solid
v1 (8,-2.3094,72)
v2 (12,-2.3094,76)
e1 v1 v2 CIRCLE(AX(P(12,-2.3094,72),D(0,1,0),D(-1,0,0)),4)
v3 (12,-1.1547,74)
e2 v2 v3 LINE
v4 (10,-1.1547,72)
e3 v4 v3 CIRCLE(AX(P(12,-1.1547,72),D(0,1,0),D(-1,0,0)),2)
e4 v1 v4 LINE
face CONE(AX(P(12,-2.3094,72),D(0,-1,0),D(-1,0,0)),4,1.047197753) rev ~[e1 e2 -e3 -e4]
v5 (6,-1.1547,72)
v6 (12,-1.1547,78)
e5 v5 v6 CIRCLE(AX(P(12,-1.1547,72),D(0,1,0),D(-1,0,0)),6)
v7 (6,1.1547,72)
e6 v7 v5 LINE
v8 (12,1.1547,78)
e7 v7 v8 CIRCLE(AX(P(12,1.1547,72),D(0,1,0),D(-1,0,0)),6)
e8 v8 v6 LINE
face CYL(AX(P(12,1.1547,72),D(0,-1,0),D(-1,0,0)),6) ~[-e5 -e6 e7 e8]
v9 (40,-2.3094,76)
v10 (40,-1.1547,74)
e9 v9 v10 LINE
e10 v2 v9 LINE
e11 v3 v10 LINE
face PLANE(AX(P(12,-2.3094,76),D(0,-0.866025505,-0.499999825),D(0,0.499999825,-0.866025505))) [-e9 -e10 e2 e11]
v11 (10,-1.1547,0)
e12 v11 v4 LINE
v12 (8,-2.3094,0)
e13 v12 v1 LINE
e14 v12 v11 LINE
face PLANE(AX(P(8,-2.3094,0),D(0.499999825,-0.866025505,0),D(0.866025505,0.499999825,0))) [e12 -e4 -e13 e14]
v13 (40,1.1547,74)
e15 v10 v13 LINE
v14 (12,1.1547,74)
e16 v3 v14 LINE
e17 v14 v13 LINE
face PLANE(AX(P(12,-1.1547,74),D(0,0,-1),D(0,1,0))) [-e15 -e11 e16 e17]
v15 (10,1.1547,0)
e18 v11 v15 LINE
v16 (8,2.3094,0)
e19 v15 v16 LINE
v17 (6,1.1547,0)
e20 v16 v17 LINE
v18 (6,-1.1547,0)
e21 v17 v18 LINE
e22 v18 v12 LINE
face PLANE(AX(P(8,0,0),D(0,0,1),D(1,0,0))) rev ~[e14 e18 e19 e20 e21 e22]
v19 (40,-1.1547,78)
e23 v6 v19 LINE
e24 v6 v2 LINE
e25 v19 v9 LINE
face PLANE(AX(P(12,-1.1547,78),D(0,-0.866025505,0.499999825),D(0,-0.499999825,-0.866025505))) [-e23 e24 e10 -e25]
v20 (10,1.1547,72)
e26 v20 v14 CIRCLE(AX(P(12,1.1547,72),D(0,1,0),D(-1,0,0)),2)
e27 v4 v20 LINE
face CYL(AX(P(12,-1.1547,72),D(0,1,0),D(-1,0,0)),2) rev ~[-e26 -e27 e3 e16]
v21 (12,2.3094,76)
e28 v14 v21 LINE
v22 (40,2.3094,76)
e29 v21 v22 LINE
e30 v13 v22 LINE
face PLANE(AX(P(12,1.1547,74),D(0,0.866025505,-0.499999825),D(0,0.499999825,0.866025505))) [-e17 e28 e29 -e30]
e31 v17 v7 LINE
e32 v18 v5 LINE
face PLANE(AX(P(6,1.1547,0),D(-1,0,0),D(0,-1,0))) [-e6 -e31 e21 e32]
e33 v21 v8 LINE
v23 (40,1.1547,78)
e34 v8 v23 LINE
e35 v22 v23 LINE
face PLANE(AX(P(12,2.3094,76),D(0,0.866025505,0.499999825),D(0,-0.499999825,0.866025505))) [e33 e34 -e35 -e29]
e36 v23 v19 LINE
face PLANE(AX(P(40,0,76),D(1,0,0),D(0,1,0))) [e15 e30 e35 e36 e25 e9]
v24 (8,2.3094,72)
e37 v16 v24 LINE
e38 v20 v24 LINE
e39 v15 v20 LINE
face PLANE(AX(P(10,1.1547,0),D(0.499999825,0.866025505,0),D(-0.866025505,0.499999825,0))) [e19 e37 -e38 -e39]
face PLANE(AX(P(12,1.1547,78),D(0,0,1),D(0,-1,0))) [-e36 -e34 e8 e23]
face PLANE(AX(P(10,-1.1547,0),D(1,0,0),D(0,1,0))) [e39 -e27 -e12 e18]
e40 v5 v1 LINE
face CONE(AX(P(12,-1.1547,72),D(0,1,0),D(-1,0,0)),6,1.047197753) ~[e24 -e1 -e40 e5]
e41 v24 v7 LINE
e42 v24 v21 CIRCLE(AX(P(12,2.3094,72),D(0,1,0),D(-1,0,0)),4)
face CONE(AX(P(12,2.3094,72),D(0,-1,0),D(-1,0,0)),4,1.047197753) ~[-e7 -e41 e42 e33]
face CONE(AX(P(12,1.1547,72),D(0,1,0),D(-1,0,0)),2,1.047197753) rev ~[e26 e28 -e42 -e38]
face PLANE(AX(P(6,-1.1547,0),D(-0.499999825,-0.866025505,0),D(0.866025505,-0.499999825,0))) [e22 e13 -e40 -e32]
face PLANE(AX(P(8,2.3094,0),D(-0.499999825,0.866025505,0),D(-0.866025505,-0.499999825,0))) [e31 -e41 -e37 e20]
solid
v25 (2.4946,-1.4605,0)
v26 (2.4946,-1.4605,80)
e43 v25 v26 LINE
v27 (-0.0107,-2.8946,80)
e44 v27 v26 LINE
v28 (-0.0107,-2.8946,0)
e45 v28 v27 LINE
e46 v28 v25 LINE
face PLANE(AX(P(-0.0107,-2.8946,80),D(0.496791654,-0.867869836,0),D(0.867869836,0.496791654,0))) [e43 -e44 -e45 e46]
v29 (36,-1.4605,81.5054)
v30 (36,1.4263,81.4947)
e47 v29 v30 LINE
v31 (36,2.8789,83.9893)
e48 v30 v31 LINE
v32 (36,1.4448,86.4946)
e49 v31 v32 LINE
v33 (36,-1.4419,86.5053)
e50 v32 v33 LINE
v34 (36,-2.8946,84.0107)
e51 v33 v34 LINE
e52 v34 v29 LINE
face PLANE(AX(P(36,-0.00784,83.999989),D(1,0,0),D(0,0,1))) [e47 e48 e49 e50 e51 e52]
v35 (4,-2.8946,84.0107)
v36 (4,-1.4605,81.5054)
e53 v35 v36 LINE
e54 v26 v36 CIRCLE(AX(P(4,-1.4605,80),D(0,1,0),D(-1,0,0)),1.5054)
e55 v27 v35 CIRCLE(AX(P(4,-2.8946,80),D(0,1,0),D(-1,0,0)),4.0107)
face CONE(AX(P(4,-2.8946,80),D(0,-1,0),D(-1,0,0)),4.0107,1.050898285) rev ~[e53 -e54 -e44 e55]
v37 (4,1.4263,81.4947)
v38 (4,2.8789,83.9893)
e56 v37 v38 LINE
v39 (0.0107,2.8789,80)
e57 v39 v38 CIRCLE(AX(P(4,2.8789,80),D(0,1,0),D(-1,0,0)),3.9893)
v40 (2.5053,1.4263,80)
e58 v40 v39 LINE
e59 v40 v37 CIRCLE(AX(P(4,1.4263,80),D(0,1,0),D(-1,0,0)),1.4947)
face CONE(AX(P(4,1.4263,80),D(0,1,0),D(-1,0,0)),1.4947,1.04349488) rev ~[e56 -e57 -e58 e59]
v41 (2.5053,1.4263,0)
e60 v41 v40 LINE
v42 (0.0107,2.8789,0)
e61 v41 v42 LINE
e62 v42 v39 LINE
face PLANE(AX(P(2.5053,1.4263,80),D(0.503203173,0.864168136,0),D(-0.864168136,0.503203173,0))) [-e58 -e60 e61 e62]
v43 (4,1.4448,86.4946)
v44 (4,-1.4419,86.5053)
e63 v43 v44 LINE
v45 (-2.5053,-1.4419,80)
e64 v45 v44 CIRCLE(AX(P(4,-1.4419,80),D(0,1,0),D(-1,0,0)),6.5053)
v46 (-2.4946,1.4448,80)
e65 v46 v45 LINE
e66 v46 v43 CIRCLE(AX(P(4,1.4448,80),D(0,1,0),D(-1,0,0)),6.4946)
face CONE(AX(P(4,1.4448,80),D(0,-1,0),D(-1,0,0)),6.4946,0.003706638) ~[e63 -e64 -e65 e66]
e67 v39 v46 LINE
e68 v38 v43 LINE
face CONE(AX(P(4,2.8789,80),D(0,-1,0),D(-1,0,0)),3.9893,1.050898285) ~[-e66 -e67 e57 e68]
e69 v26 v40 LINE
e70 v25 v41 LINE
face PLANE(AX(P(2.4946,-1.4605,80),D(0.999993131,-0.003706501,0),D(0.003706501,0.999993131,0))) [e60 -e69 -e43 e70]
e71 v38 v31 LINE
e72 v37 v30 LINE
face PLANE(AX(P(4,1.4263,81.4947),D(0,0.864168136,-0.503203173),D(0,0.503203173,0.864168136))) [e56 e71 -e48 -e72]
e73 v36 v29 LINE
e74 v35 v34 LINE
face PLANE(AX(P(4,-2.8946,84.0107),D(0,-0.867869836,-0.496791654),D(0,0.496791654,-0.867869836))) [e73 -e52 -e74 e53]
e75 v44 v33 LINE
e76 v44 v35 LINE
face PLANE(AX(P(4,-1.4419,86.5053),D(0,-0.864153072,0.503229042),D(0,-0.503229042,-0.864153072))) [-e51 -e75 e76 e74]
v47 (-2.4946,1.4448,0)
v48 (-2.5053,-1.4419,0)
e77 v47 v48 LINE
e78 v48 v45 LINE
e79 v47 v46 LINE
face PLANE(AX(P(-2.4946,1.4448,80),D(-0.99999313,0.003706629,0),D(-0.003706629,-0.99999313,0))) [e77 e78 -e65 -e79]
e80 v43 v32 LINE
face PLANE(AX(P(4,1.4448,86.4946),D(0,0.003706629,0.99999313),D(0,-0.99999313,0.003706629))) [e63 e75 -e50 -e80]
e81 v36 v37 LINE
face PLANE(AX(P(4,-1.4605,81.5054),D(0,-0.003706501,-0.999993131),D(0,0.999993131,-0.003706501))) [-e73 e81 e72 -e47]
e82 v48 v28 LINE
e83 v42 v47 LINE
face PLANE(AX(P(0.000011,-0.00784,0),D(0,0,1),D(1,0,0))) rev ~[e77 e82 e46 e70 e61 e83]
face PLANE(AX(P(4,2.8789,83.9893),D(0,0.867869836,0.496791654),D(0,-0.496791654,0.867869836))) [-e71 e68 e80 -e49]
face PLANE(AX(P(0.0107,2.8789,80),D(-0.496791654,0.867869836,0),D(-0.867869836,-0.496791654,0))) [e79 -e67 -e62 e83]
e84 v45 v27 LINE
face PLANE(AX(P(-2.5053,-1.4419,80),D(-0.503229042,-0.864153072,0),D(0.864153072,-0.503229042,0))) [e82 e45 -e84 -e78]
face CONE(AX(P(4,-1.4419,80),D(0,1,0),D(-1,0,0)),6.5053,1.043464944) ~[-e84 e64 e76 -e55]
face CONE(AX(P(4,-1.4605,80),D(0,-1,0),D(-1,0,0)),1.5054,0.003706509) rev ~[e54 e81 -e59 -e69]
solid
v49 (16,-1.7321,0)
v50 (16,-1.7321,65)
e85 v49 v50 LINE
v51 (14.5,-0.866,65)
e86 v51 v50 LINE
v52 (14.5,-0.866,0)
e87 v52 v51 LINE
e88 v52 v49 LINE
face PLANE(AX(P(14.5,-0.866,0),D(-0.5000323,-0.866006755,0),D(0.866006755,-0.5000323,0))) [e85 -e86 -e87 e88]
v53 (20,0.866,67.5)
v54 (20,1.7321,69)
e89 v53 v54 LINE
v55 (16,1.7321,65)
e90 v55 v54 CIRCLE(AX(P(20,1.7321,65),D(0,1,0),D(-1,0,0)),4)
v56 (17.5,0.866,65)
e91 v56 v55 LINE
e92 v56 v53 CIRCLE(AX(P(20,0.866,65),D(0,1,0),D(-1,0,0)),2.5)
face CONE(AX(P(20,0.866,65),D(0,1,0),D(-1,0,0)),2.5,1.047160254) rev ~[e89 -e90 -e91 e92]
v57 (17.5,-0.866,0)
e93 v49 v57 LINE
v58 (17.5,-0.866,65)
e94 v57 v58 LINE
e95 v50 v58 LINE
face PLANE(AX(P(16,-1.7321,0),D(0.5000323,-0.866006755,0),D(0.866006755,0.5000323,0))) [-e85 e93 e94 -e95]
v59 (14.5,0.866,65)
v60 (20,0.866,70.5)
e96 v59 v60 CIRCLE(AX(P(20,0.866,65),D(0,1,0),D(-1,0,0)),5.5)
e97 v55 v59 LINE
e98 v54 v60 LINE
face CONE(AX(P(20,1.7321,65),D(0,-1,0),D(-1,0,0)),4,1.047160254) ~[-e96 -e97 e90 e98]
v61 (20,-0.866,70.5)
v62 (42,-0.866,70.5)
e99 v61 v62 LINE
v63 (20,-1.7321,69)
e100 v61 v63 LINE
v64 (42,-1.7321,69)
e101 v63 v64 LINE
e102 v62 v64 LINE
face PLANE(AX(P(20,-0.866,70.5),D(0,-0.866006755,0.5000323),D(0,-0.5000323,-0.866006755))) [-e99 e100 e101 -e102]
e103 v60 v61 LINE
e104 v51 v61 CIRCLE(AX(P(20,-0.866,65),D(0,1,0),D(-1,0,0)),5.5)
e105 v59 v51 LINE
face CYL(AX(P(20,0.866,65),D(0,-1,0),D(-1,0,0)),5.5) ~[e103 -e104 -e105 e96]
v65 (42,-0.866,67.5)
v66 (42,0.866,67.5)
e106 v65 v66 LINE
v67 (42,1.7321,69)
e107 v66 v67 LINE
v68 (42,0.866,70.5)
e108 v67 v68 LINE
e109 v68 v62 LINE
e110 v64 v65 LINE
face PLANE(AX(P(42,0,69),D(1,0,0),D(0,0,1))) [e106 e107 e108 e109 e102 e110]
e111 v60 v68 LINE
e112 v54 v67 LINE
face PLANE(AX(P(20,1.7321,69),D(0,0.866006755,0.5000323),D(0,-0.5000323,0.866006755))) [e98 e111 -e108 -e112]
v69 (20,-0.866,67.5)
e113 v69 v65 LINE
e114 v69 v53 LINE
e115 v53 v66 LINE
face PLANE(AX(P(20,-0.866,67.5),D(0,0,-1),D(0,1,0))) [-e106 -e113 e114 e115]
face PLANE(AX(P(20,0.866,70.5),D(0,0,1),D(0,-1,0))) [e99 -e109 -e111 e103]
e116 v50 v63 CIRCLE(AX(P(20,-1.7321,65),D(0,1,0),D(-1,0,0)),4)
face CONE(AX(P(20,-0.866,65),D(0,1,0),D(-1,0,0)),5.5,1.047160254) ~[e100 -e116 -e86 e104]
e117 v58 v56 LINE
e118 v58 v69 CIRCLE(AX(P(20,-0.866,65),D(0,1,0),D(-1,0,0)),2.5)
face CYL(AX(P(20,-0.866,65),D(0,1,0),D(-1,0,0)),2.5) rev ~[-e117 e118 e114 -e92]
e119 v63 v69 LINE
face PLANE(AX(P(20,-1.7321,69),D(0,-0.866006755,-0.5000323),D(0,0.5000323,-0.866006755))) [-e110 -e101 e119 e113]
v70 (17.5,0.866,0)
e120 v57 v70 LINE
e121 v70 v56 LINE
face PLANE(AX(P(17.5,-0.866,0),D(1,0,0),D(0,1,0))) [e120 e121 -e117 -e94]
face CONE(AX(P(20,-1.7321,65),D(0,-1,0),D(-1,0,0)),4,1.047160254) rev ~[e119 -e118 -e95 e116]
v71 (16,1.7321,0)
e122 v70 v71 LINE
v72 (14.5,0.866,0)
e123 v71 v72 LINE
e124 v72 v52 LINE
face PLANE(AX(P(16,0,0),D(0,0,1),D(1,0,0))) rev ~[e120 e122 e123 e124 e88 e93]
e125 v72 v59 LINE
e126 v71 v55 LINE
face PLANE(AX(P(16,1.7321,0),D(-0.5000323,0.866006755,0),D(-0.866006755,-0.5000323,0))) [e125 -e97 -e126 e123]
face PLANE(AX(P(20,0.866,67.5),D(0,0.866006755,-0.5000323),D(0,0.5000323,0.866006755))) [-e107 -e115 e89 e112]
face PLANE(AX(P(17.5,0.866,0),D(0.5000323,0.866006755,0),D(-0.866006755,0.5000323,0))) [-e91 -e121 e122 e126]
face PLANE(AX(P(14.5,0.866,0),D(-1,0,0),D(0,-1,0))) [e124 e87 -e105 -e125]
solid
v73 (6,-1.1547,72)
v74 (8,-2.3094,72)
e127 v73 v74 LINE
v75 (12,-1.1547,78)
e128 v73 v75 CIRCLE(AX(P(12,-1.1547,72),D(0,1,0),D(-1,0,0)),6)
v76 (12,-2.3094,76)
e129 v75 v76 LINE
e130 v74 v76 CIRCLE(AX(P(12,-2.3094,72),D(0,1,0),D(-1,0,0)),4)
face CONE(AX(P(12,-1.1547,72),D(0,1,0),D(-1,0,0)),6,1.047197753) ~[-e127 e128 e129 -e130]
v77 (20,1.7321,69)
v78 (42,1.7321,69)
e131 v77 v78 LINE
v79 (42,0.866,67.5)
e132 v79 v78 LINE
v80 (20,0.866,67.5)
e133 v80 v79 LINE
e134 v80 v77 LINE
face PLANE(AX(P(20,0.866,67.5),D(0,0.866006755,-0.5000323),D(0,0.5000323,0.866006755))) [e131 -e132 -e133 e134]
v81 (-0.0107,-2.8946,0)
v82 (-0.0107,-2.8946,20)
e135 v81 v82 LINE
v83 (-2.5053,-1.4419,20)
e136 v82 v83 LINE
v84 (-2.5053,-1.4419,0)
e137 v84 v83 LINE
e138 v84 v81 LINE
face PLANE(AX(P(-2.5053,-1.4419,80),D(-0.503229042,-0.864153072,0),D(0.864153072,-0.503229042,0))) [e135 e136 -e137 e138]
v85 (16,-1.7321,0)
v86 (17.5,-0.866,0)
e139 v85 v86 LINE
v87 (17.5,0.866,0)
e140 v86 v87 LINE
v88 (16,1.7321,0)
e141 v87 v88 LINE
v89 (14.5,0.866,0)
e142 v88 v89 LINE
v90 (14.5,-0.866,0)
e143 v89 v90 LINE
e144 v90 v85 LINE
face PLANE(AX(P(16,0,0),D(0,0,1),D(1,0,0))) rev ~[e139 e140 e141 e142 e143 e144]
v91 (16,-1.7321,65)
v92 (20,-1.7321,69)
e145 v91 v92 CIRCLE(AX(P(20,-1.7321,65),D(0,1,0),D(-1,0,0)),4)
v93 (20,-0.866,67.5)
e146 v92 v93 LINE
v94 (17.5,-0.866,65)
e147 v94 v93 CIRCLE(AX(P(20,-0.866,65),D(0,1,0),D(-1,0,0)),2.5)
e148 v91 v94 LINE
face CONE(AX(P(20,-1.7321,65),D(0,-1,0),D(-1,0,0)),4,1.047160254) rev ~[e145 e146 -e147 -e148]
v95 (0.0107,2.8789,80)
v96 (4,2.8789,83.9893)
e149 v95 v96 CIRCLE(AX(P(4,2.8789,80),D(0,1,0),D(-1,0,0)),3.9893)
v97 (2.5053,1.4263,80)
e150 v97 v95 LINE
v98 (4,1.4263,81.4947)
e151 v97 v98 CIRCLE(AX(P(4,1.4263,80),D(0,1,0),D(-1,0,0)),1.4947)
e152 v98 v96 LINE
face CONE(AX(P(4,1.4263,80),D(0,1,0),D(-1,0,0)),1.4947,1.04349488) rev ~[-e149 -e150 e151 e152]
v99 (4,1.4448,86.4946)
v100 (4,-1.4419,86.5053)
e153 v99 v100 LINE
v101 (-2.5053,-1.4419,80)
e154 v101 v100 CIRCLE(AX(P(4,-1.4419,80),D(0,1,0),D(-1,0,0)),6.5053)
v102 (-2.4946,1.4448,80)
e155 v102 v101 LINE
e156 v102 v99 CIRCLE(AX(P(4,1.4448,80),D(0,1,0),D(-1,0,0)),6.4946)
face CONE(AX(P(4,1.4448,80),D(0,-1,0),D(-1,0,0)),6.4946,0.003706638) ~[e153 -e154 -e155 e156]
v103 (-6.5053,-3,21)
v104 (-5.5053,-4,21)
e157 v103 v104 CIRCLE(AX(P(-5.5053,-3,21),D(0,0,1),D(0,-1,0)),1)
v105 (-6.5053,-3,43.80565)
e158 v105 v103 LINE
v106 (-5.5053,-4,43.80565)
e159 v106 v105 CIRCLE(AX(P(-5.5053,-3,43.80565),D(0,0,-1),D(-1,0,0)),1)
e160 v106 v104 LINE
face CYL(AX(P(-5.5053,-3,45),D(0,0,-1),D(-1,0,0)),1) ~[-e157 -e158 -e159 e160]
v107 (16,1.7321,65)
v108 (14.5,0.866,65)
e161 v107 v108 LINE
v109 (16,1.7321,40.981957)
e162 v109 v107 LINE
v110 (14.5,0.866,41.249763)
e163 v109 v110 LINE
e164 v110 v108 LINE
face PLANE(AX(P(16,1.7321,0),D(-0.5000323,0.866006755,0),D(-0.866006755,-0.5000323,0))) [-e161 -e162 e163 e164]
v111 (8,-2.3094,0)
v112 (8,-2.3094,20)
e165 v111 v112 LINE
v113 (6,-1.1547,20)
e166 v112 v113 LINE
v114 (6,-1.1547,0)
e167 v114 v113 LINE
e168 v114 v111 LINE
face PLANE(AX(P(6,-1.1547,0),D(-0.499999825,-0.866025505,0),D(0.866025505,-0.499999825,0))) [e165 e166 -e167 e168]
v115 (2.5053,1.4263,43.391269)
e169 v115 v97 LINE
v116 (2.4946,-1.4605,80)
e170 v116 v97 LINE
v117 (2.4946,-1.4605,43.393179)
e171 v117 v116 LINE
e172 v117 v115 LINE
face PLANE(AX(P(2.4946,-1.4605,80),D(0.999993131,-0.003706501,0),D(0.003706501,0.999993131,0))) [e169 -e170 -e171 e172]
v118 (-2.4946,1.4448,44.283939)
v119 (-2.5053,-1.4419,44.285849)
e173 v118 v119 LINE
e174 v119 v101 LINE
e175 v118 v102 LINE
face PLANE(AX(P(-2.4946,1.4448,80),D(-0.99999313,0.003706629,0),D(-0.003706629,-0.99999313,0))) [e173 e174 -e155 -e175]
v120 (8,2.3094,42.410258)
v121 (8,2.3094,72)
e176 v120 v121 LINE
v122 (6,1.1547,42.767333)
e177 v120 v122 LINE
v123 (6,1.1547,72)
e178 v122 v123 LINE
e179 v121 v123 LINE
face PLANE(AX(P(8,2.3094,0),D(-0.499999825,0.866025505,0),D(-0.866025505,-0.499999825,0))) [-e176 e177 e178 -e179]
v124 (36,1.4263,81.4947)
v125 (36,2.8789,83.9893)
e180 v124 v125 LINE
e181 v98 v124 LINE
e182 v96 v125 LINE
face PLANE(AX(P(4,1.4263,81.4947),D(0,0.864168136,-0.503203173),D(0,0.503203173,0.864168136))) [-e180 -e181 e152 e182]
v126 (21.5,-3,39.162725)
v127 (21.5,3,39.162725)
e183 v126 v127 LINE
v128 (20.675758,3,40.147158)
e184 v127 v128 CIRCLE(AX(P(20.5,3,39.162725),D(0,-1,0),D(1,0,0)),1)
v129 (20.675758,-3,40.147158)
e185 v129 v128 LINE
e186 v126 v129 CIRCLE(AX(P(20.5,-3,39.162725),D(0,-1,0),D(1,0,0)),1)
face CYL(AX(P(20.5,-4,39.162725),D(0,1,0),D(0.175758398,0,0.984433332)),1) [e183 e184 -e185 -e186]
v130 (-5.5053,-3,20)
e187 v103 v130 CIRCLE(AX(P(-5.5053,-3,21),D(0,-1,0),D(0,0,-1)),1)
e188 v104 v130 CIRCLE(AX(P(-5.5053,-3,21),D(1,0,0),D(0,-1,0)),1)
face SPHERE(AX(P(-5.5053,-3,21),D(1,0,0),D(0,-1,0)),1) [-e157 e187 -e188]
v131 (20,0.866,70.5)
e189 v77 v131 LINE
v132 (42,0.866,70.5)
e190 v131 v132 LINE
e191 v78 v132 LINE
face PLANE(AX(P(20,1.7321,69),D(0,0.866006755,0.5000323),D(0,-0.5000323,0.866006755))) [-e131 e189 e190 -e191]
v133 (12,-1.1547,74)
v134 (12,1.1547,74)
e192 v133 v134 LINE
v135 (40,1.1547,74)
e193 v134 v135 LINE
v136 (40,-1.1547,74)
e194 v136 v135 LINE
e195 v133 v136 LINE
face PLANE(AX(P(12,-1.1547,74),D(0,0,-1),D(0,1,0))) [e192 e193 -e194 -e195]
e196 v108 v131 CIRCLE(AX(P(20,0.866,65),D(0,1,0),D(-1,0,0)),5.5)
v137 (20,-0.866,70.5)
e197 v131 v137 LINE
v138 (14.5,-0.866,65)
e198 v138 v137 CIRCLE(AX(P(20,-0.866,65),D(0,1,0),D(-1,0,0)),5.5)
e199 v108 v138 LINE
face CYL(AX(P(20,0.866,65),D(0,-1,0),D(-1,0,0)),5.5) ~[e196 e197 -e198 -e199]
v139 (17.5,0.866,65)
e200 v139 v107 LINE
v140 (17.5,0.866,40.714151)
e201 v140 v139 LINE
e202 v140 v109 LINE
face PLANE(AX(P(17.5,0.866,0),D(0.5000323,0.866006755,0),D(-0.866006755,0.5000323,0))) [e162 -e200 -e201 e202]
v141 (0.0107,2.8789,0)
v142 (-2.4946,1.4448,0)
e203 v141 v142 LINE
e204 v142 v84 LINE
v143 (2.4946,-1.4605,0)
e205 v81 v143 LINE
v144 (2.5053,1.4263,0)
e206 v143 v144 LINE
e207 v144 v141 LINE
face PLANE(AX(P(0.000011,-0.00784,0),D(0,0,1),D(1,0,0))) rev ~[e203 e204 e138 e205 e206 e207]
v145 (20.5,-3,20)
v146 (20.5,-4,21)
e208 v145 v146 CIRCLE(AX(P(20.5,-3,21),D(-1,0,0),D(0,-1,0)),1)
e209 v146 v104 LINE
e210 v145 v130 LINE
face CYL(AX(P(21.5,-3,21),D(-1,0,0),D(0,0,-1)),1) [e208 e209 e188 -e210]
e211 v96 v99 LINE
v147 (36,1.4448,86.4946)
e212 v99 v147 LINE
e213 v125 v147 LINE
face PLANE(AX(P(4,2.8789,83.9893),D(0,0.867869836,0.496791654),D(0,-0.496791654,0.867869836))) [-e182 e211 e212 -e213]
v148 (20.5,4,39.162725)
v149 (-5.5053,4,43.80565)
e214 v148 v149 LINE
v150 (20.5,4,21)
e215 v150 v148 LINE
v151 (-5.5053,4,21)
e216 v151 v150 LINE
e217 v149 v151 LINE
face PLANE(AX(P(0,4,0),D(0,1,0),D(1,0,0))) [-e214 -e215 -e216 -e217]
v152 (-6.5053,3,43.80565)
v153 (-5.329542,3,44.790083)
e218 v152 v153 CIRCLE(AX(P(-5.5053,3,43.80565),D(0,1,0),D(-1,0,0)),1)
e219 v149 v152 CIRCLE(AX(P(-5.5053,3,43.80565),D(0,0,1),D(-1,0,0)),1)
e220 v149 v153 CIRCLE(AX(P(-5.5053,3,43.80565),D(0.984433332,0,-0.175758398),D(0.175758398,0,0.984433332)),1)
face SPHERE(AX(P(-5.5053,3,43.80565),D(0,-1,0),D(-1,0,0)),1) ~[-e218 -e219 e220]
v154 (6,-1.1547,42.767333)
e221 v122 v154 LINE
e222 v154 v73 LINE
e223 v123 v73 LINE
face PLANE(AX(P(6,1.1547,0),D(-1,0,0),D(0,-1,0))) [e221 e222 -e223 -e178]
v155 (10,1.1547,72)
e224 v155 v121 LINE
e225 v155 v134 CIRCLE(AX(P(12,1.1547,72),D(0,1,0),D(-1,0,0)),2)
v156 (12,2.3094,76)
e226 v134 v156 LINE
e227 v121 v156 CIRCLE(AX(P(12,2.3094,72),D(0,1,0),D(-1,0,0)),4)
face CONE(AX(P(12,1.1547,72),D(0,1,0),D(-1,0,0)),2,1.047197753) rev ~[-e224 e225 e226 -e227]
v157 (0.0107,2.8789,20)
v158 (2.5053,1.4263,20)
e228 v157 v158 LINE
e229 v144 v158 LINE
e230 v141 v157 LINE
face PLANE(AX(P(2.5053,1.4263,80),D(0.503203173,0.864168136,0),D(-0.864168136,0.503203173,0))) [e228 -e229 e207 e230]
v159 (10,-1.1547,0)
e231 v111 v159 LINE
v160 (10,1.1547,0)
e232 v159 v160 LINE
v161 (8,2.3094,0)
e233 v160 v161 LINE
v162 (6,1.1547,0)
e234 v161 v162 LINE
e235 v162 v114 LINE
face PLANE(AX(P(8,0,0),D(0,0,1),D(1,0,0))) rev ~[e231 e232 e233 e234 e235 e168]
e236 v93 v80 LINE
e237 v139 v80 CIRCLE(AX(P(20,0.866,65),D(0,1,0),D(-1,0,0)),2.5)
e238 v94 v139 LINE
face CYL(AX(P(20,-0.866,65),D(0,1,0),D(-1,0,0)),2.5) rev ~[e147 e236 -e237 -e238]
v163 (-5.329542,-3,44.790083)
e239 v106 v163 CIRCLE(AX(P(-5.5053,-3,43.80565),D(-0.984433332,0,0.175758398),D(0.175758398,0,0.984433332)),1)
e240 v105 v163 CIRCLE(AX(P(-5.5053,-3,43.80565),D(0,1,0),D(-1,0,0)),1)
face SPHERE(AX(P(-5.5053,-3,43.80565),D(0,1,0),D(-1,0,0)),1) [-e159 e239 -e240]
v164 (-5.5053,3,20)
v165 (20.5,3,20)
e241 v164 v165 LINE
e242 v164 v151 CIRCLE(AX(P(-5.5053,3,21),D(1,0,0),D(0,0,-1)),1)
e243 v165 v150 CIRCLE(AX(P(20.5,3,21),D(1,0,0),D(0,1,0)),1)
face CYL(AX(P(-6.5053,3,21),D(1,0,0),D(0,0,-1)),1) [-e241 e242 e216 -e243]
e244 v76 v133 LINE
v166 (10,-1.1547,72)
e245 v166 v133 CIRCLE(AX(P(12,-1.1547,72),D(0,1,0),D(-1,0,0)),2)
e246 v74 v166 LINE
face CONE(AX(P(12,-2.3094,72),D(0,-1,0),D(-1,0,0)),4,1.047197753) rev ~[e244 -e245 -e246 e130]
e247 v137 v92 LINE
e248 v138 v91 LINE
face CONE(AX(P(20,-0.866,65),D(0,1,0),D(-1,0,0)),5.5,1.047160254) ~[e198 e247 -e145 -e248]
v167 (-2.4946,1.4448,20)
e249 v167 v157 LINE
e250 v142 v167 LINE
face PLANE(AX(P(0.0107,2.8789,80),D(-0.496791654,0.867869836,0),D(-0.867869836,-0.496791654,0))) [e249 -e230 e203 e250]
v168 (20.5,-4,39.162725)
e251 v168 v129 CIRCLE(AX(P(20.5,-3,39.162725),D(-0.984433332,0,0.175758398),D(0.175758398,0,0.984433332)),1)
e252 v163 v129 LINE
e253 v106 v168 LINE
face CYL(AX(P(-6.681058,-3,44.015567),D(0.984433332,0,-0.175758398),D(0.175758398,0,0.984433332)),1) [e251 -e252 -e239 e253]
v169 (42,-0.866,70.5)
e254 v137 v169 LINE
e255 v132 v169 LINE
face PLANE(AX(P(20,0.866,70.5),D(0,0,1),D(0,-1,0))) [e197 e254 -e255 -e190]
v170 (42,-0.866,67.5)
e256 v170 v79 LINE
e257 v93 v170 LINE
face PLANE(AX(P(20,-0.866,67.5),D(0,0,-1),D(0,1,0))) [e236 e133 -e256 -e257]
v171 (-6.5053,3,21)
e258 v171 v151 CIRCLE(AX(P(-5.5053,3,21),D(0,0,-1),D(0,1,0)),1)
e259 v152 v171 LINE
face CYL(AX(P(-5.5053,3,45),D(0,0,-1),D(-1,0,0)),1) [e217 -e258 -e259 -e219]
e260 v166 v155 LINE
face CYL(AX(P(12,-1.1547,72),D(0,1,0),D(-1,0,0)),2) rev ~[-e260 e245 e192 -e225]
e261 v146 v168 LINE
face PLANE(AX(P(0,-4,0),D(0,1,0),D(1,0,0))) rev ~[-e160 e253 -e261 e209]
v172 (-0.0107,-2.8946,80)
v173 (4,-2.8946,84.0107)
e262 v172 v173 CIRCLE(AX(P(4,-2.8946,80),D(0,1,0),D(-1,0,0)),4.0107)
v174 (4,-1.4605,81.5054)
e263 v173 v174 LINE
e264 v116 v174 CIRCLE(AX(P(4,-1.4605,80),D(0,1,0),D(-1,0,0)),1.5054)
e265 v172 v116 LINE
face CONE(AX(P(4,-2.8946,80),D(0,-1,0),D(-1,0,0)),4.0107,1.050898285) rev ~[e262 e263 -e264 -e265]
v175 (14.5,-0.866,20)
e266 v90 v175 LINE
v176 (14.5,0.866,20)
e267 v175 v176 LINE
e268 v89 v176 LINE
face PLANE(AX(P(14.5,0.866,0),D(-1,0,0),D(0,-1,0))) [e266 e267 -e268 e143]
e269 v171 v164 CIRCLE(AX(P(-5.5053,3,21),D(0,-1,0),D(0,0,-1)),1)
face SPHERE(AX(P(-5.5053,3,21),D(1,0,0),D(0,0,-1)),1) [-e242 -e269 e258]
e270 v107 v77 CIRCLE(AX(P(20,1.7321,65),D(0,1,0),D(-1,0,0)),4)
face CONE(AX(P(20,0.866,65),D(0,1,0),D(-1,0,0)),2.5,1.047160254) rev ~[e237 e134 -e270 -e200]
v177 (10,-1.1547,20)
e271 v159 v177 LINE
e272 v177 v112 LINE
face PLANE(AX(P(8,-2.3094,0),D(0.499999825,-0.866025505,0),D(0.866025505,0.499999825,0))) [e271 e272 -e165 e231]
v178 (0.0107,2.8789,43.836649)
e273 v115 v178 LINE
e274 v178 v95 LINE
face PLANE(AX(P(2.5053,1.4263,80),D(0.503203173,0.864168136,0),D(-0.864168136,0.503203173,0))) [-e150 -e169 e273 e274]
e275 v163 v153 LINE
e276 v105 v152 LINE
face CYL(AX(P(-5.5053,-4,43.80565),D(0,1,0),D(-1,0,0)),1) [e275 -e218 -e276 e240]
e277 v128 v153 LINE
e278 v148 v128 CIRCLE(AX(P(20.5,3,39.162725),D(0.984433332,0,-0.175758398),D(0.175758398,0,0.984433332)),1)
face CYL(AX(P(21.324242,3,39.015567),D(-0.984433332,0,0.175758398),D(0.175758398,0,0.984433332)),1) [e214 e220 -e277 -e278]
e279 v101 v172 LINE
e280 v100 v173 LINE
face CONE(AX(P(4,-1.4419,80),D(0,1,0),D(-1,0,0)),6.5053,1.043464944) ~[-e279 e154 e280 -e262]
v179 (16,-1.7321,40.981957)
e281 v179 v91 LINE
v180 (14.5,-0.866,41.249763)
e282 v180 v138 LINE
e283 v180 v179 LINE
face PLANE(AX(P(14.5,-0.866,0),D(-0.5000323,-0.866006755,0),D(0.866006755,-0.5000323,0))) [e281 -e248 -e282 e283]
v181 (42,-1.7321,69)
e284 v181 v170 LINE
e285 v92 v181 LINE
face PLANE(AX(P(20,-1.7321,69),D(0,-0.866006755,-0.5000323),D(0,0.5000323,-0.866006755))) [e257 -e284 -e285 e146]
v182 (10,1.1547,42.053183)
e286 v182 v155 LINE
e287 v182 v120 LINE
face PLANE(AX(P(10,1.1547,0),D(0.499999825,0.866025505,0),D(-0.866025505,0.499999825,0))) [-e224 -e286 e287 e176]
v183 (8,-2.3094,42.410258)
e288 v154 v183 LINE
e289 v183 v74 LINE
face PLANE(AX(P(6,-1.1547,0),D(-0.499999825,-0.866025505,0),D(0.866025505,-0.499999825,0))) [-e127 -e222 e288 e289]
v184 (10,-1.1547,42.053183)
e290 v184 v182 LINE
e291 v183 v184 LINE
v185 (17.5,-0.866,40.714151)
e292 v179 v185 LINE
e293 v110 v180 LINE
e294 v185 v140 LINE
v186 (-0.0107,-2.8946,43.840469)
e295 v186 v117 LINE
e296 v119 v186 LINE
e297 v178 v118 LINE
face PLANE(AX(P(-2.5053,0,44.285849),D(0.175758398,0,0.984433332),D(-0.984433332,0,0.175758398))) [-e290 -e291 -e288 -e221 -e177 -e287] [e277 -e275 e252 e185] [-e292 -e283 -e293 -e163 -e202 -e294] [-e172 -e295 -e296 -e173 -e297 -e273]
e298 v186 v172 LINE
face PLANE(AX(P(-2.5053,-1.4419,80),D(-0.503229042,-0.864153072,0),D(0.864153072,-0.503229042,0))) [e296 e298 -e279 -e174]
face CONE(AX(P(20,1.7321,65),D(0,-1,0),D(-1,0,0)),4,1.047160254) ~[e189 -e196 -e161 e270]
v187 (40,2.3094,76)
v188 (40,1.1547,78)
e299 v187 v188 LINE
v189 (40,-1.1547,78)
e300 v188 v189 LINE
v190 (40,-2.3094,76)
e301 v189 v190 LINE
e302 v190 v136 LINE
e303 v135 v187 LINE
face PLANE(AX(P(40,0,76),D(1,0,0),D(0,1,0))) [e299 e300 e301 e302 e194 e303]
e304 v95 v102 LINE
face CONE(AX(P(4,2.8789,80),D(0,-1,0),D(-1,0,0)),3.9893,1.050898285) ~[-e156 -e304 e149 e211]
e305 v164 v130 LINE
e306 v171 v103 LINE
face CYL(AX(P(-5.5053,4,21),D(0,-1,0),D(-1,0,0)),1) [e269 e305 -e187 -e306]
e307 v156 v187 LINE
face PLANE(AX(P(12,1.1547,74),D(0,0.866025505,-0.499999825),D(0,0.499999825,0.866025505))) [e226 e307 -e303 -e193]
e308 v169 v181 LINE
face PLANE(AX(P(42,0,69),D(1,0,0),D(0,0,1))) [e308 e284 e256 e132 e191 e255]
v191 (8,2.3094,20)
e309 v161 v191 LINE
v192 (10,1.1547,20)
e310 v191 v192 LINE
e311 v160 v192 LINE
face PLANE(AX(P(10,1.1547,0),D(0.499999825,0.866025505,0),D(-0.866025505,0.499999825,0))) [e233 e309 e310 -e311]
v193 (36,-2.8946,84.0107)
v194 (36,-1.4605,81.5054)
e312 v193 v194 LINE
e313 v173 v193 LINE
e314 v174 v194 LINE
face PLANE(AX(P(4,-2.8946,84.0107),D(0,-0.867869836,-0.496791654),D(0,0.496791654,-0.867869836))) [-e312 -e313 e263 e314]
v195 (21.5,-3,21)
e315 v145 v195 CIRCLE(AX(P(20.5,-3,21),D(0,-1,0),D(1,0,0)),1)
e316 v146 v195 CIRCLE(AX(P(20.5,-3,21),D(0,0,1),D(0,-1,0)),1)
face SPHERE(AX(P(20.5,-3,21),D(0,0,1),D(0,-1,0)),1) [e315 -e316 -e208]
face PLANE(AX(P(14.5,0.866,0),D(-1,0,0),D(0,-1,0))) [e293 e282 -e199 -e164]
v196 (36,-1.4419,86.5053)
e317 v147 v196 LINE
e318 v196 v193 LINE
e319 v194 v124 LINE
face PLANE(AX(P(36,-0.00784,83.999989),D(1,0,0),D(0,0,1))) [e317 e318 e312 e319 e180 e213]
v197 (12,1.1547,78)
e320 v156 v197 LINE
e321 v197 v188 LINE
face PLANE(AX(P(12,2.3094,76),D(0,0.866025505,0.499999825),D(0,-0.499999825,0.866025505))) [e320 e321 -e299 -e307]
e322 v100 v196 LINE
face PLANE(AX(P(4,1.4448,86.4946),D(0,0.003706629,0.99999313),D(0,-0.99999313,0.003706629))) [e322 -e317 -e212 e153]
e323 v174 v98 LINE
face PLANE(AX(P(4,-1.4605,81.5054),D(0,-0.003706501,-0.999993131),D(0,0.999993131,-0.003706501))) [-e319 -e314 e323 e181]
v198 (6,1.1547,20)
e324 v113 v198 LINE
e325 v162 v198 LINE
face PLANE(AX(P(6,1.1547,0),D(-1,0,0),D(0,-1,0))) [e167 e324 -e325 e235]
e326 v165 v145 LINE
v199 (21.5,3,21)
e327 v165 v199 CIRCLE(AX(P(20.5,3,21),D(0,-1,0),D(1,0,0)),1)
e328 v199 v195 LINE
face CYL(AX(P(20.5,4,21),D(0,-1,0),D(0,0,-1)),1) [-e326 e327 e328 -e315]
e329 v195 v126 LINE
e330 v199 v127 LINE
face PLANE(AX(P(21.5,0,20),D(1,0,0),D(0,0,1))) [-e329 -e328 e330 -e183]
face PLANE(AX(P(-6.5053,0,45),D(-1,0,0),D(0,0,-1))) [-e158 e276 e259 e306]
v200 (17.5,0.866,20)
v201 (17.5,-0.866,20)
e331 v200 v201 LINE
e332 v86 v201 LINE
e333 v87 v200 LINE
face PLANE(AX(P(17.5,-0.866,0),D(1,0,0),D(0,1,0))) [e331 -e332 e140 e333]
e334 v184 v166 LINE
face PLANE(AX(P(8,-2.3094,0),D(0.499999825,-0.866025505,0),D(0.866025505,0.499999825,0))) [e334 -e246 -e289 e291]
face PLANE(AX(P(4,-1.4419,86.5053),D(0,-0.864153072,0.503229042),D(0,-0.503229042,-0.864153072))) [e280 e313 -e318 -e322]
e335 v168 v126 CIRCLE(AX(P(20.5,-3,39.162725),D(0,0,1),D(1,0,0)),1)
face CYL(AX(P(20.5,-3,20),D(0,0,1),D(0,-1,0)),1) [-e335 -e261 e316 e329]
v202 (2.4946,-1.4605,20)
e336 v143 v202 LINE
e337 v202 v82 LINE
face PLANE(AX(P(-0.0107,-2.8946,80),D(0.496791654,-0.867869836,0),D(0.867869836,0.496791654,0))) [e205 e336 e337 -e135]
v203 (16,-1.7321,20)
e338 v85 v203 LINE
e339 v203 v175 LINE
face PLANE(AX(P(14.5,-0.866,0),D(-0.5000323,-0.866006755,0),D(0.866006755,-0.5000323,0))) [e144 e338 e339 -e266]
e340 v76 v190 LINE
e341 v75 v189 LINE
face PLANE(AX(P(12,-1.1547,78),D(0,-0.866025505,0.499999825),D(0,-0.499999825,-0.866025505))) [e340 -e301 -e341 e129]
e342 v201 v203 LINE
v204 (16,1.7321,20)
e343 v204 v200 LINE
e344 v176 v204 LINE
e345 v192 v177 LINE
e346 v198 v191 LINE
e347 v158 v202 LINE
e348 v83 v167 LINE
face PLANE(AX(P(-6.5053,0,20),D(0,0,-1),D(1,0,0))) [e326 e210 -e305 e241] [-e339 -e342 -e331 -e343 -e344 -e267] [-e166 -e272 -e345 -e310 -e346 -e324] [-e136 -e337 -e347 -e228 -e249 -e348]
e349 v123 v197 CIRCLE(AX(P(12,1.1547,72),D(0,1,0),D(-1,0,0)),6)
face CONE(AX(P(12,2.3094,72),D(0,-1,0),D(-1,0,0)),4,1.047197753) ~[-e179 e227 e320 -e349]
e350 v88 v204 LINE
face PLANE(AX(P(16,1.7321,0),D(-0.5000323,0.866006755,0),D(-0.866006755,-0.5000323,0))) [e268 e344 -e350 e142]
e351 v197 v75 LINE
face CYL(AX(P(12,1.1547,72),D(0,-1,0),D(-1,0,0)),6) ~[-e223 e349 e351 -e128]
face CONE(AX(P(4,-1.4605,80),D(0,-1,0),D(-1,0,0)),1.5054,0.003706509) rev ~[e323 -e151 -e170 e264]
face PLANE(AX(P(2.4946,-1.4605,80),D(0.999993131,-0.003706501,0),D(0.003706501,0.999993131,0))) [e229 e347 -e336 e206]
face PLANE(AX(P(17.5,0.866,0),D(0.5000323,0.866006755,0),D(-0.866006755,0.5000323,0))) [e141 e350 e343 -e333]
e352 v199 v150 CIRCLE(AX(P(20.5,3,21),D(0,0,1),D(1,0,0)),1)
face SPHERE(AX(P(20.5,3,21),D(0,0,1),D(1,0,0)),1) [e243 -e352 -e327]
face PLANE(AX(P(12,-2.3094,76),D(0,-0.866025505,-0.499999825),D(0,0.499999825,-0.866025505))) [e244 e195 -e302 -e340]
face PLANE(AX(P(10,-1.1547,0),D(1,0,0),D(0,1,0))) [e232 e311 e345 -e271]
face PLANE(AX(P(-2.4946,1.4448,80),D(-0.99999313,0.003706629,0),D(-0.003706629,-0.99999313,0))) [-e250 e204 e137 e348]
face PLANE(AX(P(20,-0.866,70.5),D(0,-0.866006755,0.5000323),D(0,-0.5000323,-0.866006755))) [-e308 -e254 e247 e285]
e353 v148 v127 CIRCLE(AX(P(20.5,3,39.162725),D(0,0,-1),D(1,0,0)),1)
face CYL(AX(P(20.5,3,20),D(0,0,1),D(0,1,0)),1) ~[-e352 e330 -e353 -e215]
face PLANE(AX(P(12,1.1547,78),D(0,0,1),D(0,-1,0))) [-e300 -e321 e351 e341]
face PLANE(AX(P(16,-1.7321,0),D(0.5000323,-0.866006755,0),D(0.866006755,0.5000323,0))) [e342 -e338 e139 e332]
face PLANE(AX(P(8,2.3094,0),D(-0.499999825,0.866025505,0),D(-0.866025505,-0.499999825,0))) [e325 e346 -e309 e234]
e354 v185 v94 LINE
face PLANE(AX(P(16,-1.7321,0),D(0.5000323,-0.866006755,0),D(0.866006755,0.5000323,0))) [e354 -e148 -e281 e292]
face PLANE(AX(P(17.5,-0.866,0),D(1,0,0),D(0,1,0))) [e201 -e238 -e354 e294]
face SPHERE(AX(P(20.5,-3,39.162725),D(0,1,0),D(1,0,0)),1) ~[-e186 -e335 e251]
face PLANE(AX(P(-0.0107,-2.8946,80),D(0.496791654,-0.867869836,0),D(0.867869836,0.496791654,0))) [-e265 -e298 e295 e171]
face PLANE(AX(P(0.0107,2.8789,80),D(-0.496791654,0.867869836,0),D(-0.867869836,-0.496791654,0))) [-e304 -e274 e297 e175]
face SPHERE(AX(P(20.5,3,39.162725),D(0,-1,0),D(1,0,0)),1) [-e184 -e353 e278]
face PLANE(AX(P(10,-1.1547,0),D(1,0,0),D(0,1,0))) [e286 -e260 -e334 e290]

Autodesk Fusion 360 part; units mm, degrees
sketch "Sketch1" plane through (0, 0, 0) normal (0, 0, 1) x (1, 0, 0)
  line L0 (14.5, -0.866) -> (16, -1.7321)
  line L1 (16, -1.7321) -> (17.5, -0.866)
  line L2 (17.5, -0.866) -> (17.5, 0.866)
  line L3 (17.5, 0.866) -> (16, 1.7321)
  line L4 (16, 1.7321) -> (14.5, 0.866)
  line L5 (14.5, 0.866) -> (14.5, -0.866)
  line L6 (8, 2.3094) -> (6, 1.1547)
  line L7 (6, 1.1547) -> (6, -1.1547)
  line L8 (6, -1.1547) -> (8, -2.3094)
  line L9 (8, -2.3094) -> (10, -1.1547)
  line L10 (10, -1.1547) -> (10, 1.1547)
  line L11 (10, 1.1547) -> (8, 2.3094)
  line L12 (-2.4946, 1.4448) -> (-2.5053, -1.4419)
  line L13 (-2.5053, -1.4419) -> (-0.0107, -2.8946)
  line L14 (-0.0107, -2.8946) -> (2.4946, -1.4605)
  line L15 (2.4946, -1.4605) -> (2.5053, 1.4263)
  line L16 (2.5053, 1.4263) -> (0.0107, 2.8789)
  line L17 (0.0107, 2.8789) -> (-2.4946, 1.4448)
  point P0 (16, 0)
  point P1 (8, 0)
  point P2 (0, -0.0078)
  dimension "d1" = 3
  dimension "d2" = 4
  dimension "d3" = 5
  dimension "d4" = 8
  dimension "d5" = 8
sketch "Sketch3" plane through (0, 0, 0) normal (0, 1, 0) x (1, 0, 0)
  line L0 (0, -80) -> (0, 0)
  line L1 (8, 0) -> (8, -72)
  line L2 (16, 0) -> (16, -65)
  line L3 (4, -84) -> (36, -84)
  line L4 (12, -76) -> (40, -76)
  line L5 (20, -69) -> (42, -69)
  arc A0 (0, -80) -> (4, -84) centre (4, -80) ccw
  arc A1 (8, -72) -> (12, -76) centre (12, -72) ccw
  arc A2 (16, -65) -> (20, -69) centre (20, -65) ccw
  point P0 (2.4946, 0)
  point P1 (10, 0)
  point P2 (17.5, 0)
  point P3 (8, 0)
  point P4 (16, 0)
  dimension "d6" = 8
  dimension "d7" = 8
  dimension "d9" = 8
  dimension "d10" = 80
  dimension "d11" = 72
  dimension "d12" = 65
  dimension "d13" = 32
  dimension "d14" = 28
  dimension "d15" = 22
sweep "Sweep1" add profiles "Sketch1" path "Sketch3" along L3 A0 L0 section 1 contours L12 L13 L14 L15 L16 L17 makes body 1
sweep "Sweep2" add profiles "Sketch1" path "Sketch3" along L1 A1 L4 section 1 contours L6 L7 L8 L9 L10 L11 separate body makes body 2
sweep "Sweep3" add profiles "Sketch1" path "Sketch3" along L2 A2 L5 section 1 contours L0 L1 L2 L3 L4 L5 separate body makes body 3
sketch "Sketch4" plane through (0, 0, 0) normal (0, 1, 0) x (1, 0, 0)
  line L0 (-6.5053, -45) -> (-6.5053, -20)
  line L1 (17.5, 0) -> (17.5, -65)
  line L2 (-6.5053, -20) -> (21.5, -20)
  line L3 (21.5, -20) -> (21.5, -40)
  line L4 (21.5, -40) -> (-6.5053, -45)
  line L5 (-2.5053, 0) -> (-2.5053, -80)
  dimension "d34" = 20
  dimension "d35" = 25
  dimension "d36" = 20
  dimension "d37" = 4
  dimension "d38" = 4
extrude "Extrude1" add sketch "Sketch4" along normal mid plane 8 separate body makes body 4
fillet "Fillet1" radius 1 12 edges at (7.4973, -4, 42.5) (7.4973, 4, 42.5) (-6.5053, 0, 45) (21.5, 0, 40) (21.5, -4, 30) (21.5, 4, 30) (7.4973, -4, 20) (-6.5053, -4, 32.5) (21.5, 0, 20) (7.4973, 4, 20) (-6.5053, 0, 20) (-6.5053, 4, 32.5) on bodies 4
combine "Combine1" operation add target body 4 tool bodies 1 2 3 keep tools
